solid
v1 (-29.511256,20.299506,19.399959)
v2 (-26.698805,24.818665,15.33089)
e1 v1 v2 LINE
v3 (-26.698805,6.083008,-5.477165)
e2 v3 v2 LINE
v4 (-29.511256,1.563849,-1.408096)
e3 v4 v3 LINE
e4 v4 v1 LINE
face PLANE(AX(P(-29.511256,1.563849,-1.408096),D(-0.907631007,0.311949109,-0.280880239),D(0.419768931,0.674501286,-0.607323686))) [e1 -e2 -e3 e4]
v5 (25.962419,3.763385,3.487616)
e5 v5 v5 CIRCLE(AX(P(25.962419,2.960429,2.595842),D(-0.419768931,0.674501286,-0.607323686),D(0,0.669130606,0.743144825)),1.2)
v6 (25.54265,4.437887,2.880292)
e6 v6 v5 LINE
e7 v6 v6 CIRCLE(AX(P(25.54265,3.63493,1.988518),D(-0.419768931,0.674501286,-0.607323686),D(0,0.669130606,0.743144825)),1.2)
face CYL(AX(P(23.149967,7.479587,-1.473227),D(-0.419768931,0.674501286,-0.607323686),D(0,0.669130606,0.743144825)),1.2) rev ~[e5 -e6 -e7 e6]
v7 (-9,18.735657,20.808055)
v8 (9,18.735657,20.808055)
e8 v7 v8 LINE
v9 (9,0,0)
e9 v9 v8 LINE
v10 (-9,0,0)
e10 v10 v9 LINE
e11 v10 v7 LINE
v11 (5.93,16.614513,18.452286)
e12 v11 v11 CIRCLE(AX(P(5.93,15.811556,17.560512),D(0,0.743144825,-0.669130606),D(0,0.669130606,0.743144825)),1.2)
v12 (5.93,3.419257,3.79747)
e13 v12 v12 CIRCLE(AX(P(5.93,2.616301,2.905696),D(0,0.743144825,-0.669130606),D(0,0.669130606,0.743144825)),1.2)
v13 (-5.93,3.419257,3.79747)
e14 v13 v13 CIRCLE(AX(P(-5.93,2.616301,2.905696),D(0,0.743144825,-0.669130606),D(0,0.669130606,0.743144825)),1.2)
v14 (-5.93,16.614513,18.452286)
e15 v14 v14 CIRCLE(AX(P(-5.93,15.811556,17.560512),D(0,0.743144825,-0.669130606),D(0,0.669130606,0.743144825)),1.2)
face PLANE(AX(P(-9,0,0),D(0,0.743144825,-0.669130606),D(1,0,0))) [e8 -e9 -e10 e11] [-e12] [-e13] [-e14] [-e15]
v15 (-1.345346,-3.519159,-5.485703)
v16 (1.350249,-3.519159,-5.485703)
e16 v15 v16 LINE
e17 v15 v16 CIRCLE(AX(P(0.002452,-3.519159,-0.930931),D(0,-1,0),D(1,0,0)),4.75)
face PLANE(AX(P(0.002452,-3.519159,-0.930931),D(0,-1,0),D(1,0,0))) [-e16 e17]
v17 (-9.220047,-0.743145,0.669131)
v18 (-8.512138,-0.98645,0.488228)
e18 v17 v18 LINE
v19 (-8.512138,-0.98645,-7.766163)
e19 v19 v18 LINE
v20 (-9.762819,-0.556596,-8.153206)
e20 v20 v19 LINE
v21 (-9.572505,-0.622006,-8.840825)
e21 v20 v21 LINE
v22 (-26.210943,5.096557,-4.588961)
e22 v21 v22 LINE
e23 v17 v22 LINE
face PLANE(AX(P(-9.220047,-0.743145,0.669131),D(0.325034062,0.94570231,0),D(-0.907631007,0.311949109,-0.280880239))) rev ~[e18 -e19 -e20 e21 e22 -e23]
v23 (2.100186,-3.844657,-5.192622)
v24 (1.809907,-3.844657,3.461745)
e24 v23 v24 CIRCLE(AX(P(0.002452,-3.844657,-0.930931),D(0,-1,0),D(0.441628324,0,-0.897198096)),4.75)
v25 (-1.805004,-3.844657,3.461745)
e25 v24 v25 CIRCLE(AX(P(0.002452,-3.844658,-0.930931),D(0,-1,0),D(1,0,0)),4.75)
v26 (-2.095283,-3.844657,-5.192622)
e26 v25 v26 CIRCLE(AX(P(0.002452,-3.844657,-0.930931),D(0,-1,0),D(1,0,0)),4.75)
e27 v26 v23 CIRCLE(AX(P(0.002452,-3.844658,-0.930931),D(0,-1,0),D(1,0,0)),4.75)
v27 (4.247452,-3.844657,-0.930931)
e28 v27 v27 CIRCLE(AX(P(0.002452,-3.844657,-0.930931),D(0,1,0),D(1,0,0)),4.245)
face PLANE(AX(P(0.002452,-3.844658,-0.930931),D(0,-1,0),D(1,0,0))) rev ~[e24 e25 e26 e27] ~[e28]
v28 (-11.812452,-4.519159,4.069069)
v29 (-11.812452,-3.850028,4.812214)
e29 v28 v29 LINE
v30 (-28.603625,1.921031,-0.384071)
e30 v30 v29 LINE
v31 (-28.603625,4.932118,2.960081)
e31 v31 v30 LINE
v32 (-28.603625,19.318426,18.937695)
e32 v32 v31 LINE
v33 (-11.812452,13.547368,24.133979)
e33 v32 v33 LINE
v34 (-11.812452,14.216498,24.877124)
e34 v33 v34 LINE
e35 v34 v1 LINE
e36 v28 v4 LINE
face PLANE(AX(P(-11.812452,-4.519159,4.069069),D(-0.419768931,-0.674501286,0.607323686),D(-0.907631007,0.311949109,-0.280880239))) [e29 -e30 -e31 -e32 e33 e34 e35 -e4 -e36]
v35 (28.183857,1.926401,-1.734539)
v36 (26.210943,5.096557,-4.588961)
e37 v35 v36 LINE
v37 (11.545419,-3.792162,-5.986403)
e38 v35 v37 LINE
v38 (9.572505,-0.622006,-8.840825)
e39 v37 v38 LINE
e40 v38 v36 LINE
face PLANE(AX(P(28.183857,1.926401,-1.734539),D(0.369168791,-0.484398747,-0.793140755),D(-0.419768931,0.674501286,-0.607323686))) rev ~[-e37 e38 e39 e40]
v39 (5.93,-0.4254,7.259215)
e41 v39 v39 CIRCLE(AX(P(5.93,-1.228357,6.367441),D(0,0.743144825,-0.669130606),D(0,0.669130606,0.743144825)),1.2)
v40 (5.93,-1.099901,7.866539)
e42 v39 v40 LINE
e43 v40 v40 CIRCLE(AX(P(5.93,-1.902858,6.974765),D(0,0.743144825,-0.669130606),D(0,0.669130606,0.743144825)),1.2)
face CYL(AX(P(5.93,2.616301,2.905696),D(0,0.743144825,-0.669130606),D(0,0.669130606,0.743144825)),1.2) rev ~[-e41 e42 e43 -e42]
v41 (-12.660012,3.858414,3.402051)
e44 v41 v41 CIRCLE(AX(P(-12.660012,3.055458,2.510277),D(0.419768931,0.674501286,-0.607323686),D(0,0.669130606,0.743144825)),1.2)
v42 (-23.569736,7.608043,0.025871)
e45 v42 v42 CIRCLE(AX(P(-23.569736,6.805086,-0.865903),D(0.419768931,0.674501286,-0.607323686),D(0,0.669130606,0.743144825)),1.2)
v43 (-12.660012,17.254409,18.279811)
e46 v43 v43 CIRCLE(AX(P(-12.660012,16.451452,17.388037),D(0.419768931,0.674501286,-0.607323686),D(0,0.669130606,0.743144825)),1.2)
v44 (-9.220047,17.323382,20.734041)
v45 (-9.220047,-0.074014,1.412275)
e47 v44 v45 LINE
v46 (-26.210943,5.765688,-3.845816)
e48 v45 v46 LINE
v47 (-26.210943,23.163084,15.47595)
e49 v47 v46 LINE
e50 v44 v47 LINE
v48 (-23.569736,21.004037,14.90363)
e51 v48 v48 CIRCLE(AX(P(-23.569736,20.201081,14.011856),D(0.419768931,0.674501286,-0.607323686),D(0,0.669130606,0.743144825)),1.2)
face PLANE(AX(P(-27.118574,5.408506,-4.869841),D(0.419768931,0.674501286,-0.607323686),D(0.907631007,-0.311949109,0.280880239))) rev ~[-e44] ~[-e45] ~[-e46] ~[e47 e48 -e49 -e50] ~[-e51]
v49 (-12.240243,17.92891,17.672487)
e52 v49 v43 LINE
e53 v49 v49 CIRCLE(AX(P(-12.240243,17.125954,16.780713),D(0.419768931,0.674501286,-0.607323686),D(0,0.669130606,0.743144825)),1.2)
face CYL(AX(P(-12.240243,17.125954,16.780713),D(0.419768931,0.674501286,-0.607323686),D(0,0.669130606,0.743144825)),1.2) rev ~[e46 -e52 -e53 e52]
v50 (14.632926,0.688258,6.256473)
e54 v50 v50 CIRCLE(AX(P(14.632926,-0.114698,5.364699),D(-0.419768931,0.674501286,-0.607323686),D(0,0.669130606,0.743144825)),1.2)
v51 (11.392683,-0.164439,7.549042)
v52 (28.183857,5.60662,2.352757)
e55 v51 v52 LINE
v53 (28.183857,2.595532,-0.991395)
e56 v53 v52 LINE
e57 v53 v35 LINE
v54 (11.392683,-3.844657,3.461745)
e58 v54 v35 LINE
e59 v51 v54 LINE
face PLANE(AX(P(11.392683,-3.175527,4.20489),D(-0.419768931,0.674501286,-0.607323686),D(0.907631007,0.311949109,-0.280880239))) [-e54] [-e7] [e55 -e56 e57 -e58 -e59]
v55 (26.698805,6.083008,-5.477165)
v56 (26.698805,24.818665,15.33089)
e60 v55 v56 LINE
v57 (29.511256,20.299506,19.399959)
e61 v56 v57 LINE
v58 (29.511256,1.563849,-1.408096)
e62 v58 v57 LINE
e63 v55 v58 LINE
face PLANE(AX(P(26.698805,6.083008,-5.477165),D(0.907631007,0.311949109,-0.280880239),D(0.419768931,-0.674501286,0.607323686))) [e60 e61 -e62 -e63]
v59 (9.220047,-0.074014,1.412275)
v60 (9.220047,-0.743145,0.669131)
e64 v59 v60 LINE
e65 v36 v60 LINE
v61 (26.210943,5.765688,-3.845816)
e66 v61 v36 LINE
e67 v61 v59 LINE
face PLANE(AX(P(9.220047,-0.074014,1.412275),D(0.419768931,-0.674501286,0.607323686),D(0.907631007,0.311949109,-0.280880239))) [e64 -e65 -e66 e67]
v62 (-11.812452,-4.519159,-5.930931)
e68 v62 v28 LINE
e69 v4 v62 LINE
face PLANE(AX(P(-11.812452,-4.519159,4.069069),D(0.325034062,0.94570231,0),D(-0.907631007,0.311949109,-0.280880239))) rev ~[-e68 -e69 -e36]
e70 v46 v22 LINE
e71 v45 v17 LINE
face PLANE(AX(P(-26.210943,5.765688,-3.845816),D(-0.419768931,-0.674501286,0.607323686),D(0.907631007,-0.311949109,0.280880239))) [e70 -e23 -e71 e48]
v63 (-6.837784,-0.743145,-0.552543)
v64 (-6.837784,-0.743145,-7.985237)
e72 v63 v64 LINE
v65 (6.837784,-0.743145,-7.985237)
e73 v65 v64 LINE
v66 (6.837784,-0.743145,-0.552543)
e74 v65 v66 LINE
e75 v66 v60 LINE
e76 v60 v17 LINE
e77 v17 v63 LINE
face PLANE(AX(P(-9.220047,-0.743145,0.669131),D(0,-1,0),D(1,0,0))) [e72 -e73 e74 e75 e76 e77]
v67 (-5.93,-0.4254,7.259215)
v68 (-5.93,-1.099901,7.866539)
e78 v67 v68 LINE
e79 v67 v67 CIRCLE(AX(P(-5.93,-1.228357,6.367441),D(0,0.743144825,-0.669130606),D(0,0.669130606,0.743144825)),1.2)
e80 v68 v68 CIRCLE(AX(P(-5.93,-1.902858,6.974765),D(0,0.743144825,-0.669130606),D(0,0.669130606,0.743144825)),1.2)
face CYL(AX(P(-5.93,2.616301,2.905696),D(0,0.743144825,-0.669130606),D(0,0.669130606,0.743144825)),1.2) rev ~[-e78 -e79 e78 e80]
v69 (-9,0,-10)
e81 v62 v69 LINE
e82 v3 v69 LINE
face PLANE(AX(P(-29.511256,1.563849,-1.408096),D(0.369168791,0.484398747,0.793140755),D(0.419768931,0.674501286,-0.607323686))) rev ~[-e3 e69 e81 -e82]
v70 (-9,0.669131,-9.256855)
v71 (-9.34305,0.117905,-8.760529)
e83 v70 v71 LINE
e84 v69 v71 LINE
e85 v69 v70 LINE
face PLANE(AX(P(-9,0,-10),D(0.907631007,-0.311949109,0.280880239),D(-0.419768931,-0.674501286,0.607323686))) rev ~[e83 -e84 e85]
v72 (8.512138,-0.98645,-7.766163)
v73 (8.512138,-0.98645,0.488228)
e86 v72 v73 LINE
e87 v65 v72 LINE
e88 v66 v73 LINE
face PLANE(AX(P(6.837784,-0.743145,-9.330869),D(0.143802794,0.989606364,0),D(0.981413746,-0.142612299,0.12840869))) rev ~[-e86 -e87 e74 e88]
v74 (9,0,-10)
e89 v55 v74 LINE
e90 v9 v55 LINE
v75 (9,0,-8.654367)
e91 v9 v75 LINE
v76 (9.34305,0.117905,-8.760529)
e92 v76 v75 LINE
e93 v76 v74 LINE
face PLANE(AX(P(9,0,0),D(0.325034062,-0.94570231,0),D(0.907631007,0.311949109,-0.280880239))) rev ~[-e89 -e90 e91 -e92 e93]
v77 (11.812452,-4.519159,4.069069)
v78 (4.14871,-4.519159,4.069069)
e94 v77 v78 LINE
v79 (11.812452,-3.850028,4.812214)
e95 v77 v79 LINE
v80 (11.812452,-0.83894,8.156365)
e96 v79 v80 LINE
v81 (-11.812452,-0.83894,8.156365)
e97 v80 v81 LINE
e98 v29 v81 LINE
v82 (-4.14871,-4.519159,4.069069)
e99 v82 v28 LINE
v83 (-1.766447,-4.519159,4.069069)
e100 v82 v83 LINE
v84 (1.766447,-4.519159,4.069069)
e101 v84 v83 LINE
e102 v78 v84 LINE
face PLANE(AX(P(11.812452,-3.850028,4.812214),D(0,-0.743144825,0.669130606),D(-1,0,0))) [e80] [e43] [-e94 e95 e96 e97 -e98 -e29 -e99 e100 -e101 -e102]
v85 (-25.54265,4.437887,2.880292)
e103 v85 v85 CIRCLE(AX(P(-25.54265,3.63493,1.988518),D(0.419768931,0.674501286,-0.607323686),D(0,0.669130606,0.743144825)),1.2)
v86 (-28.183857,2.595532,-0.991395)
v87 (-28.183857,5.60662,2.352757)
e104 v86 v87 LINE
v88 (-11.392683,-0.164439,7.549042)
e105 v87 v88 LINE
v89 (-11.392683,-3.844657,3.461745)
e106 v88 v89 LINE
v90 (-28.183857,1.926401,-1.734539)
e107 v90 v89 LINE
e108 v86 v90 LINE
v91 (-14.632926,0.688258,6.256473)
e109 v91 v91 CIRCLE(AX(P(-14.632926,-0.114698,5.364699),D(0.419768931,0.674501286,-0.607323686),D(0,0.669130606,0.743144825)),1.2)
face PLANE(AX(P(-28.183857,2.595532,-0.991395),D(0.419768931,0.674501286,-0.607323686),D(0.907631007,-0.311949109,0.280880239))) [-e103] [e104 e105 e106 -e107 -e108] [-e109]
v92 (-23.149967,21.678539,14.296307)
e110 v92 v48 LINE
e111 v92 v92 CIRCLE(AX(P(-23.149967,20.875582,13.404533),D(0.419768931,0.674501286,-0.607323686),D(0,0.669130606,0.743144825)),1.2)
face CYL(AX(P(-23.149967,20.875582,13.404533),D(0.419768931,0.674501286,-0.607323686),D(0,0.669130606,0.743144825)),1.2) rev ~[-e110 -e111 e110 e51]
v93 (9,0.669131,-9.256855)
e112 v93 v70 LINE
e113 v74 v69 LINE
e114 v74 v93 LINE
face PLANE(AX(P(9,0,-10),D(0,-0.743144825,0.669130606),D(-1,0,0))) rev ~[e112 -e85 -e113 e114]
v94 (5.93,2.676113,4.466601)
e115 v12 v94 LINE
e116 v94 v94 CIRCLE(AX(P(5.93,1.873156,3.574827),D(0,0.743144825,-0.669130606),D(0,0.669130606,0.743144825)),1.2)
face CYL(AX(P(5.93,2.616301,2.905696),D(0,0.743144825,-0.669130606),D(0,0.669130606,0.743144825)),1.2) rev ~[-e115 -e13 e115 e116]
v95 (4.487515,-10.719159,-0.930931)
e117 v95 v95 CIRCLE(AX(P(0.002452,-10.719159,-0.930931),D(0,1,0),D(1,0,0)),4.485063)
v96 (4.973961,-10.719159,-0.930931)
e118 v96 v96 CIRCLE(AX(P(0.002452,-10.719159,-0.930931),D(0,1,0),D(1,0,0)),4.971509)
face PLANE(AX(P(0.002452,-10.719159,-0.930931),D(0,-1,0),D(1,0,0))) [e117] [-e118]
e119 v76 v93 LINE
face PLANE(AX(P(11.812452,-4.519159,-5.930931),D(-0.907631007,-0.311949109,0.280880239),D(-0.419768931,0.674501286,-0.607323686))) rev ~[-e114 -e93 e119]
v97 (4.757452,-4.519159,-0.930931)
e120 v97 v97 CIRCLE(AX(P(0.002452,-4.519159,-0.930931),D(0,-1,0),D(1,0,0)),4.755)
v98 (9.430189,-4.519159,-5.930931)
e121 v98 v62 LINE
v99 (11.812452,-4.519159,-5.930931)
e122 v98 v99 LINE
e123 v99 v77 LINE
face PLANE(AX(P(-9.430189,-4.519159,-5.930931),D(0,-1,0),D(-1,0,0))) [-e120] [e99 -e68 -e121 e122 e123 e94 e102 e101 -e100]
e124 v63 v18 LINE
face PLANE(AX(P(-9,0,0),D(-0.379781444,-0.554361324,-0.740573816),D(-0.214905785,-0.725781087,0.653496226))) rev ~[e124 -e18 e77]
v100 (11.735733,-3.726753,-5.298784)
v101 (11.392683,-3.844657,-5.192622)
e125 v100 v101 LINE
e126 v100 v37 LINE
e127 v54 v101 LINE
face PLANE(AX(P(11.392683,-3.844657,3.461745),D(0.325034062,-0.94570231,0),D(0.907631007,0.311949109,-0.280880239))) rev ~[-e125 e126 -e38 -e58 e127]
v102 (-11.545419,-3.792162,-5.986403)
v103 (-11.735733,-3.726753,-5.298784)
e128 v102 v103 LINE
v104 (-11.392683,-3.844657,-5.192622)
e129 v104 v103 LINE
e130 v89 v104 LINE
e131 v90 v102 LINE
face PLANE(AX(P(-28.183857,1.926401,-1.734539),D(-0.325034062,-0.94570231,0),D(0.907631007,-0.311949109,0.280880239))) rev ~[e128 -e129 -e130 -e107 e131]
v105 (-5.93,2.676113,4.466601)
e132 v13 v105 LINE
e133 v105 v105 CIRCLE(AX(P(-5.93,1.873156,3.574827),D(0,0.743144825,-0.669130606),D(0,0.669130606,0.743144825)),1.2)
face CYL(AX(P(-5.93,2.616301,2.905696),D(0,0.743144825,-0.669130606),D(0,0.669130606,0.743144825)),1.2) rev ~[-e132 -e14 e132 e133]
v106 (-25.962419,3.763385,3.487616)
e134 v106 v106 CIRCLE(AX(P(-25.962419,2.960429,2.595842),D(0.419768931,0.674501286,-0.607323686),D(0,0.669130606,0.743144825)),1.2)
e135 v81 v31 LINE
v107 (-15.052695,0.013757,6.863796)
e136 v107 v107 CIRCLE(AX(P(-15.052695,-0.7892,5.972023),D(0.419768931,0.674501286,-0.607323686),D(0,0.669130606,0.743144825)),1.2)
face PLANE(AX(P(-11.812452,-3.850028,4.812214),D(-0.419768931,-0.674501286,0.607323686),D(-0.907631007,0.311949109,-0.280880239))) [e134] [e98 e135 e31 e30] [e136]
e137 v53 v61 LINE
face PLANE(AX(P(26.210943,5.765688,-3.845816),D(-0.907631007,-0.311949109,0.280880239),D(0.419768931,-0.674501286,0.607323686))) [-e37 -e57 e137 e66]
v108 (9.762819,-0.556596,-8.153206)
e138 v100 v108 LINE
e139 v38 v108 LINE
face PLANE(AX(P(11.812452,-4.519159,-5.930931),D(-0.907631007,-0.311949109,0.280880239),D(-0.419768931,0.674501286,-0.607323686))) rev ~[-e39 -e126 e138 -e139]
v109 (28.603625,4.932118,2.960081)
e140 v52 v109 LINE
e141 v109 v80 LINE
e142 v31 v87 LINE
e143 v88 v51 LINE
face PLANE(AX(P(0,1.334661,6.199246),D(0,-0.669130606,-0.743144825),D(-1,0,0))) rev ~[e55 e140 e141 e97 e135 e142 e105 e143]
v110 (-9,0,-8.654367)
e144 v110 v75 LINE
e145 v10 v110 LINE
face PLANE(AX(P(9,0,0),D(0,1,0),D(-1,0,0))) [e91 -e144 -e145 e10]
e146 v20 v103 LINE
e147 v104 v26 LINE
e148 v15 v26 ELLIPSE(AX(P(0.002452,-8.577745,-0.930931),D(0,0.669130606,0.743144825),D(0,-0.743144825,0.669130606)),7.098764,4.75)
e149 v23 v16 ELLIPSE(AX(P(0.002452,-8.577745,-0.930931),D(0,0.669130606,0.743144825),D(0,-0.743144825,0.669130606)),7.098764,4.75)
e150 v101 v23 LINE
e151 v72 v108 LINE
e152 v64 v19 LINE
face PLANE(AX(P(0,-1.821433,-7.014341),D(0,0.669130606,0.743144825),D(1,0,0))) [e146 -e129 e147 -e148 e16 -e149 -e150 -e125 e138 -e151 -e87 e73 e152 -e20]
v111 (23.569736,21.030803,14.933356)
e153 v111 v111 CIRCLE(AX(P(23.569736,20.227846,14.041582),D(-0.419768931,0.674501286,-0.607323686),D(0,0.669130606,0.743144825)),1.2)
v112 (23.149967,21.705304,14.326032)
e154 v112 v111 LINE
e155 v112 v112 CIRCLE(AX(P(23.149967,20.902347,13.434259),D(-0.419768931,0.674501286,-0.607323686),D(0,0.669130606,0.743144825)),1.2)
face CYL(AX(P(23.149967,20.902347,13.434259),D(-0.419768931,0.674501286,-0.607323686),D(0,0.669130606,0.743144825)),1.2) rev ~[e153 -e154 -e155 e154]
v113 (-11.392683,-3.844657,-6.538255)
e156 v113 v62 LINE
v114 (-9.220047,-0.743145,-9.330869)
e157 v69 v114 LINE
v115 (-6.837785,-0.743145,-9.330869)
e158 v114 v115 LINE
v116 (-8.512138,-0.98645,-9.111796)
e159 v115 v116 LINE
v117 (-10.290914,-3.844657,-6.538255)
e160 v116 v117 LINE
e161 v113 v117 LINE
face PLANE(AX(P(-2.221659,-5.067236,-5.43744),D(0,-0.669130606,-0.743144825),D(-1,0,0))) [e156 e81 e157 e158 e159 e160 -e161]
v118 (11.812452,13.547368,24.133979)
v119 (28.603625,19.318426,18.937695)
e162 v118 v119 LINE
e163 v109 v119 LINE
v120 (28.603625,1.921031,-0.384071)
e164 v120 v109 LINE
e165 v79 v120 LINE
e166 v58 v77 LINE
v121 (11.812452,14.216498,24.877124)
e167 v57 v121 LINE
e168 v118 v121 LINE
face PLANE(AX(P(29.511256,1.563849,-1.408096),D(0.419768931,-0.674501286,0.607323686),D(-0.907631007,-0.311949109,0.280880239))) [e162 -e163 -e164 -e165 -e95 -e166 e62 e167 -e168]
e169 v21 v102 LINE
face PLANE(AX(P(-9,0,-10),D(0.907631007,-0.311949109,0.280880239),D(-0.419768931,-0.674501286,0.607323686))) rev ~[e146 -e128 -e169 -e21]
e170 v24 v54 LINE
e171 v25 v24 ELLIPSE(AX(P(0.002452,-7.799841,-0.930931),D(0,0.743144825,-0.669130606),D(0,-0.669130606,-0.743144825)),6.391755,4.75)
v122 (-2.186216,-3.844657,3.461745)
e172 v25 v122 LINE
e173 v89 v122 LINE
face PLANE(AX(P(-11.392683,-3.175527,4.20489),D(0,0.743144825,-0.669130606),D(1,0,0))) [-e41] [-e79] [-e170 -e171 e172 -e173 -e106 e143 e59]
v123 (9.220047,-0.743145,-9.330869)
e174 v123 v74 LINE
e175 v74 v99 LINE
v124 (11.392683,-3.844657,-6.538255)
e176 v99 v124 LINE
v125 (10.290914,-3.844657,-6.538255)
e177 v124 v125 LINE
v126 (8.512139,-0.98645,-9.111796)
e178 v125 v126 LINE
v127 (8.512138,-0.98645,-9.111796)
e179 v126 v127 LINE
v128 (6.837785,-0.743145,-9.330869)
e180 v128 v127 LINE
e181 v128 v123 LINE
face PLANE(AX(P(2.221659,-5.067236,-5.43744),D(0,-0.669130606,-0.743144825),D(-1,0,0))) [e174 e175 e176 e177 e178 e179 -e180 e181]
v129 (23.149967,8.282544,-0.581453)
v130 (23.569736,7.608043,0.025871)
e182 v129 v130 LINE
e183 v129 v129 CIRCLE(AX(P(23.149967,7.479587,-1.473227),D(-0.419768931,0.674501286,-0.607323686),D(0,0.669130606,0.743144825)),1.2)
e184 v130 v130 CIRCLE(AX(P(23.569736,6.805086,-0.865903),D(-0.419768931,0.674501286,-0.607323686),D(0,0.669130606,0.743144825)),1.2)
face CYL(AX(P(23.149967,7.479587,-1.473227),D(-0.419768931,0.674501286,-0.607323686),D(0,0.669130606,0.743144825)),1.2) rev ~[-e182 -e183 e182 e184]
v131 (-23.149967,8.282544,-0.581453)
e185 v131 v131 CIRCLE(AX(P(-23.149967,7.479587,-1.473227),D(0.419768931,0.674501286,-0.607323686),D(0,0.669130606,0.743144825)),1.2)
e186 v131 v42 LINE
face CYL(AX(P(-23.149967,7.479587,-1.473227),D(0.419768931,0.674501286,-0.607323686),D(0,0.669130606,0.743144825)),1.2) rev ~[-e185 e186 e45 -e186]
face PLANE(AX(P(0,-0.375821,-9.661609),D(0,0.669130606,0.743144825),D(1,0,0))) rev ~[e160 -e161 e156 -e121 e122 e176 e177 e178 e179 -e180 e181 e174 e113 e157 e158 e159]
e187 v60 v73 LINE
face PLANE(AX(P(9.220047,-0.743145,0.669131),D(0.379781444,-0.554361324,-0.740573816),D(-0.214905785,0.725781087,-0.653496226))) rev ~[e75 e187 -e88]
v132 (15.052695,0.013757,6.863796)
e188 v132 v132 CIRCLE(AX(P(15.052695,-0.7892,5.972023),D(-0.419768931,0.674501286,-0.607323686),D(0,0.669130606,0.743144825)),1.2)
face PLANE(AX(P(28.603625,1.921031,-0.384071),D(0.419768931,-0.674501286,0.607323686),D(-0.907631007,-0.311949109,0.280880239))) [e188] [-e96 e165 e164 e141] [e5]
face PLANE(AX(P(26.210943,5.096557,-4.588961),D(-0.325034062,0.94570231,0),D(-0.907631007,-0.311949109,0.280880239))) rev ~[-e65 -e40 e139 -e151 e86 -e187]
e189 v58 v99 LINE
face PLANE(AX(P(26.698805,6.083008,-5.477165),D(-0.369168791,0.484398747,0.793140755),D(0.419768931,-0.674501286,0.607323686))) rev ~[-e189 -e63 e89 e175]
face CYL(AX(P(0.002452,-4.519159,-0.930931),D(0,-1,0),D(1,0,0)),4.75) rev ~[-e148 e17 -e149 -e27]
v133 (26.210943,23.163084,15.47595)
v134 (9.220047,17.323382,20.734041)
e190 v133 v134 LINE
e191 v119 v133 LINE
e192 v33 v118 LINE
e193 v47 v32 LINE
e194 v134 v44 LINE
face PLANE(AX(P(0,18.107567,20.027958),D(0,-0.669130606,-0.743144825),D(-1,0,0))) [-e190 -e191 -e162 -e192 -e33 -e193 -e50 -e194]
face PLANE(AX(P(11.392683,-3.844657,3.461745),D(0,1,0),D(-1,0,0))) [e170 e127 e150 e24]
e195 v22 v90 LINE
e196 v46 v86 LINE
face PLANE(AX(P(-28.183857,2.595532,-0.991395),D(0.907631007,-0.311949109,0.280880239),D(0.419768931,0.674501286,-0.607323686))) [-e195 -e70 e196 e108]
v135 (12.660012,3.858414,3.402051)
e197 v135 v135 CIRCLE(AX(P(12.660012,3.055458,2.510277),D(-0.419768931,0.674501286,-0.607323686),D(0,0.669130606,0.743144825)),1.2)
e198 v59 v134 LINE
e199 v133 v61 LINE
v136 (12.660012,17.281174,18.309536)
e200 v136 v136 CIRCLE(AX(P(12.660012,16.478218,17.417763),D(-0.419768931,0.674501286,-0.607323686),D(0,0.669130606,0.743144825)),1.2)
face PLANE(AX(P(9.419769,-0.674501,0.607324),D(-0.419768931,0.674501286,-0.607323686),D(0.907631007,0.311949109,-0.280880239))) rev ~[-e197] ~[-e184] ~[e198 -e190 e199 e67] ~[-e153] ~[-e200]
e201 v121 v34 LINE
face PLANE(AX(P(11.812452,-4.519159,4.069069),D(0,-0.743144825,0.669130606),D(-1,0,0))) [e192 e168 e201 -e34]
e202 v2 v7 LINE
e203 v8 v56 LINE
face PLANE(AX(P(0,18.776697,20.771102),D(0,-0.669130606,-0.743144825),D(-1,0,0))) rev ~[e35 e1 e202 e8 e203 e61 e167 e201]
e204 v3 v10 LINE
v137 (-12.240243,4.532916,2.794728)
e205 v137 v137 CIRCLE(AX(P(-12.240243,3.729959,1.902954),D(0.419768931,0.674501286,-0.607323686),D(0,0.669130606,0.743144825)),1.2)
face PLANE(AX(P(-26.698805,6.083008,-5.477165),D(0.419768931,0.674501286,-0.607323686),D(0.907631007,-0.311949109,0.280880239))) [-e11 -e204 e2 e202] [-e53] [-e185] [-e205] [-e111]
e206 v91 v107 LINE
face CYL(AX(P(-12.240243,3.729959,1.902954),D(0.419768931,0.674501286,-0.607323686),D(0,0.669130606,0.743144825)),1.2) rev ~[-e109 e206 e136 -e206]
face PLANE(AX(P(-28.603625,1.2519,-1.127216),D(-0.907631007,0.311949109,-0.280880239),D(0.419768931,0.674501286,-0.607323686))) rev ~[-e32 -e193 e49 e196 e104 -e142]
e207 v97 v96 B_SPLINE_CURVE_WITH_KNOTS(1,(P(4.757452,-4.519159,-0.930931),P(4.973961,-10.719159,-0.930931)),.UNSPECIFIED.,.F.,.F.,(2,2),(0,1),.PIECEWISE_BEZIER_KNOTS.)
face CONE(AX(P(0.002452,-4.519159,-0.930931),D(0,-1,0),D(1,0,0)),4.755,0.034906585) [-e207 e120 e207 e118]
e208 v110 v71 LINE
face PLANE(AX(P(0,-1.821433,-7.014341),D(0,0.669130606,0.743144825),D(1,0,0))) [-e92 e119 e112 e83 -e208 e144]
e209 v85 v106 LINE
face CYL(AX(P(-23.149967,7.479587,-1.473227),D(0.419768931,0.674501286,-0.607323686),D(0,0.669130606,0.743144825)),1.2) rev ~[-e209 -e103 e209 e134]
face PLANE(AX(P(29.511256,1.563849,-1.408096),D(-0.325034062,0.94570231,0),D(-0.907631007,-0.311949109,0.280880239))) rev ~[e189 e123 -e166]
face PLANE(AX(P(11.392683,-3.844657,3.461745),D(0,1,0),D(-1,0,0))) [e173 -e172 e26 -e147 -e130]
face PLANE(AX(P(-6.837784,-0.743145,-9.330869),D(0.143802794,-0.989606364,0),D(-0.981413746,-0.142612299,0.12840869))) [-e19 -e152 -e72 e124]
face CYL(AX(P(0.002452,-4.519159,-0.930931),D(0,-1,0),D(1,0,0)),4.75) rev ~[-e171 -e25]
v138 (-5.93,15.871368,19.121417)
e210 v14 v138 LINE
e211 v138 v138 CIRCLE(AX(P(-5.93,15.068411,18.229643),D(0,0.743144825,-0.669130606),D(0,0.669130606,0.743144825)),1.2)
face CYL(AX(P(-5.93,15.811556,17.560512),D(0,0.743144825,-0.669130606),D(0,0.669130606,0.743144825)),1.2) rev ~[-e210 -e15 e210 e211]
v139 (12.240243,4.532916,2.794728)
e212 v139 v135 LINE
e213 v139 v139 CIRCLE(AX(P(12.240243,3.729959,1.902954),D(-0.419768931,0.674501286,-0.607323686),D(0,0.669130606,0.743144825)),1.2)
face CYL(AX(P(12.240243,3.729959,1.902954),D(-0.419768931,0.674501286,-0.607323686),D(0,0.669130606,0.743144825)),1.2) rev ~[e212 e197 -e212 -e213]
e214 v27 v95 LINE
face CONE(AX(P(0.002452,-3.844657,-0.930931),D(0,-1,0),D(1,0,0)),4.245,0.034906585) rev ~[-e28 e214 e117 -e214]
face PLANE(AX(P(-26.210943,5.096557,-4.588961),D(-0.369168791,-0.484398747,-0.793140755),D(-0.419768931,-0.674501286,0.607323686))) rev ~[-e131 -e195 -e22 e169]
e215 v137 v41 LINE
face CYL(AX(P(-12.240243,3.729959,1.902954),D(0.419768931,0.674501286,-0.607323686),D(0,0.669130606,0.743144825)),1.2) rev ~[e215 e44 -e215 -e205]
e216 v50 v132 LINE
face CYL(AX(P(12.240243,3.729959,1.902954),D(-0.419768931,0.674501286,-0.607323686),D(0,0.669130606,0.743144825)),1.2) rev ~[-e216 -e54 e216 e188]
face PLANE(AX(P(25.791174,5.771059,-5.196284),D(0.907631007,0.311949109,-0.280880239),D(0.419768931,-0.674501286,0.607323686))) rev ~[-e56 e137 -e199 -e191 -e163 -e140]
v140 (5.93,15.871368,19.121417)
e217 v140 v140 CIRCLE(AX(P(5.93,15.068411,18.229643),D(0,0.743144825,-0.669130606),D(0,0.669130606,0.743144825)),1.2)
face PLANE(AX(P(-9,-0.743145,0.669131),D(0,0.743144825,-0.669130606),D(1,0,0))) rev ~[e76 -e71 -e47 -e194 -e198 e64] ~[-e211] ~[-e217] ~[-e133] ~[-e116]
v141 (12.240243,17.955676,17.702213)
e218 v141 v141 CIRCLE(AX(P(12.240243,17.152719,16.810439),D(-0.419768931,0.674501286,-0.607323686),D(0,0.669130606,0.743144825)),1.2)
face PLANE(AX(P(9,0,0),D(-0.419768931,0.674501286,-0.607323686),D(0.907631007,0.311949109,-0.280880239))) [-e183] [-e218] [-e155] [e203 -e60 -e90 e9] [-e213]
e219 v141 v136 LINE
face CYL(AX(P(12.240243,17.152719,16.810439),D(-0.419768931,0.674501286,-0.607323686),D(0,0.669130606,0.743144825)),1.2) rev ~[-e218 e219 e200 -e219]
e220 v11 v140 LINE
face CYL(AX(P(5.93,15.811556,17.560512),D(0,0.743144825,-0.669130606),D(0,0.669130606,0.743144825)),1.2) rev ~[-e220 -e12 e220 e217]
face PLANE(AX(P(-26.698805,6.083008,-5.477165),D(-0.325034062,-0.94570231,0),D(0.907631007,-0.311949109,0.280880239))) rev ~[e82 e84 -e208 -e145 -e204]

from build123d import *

# Parameters (mm, degrees)
BOSS_EXTRUDE1_DEPTH           = 28
SHELL2_T                      = -1
BOSS_EXTRUDE2_DEPTH           = 4.5
CUT_EXTRUDE1_DEPTH            = 4.5
SKETCH8_R                     = 1.2
CUT_EXTRUDE2_DEPTH            = 24.5
SKETCH9_R                     = 1.2
CUT_EXTRUDE3_DEPTH            = 24.5
SKETCH10_R                    = 1.2
CUT_EXTRUDE4_DEPTH            = 24.5
BOSS_EXTRUDE3_DEPTH           = 10
BOSS_EXTRUDE4_DEPTH           = 19.253744603
CUT_EXTRUDE5_DEPTH            = 10
CUT_EXTRUDE6_DEPTH            = 10
CUT_EXTRUDE7_DEPTH            = 10
BOSS_EXTRUDE5_DEPTH           = 19.253744603
CUT_EXTRUDE8_DEPTH            = 10
BOSS_EXTRUDE6_DEPTH           = 1
SKETCH23_R                    = 4.75
CUT_EXTRUDE9_DEPTH            = 1
SKETCH24_R                    = 4.755
BOSS_EXTRUDE7_DEPTH           = 6.2
BOSS_EXTRUDE7_TAPER           = -2
BOSS_EXTRUDE7_OTHER_WAY_DEPTH = 0.674501
SKETCH28_R                    = 4.245
CUT_EXTRUDE10_DEPTH           = 76
CUT_EXTRUDE10_DRAFT           = 2


with BuildPart() as part:
    # Sketch3 → Boss-Extrude1 (new body)
    with BuildSketch(Plane(origin=(0, 0, 0), x_dir=(1, 0, 0), z_dir=(0, 0.6691306063588569, 0.7431448254773955))):
        Polygon((-9, 0), (9, 0), (26.698804633, 8.185494155), (29.511256471, 2.104366409), (11.812451838, -6.081127746), (-11.812451838, -6.081127746), (-29.511256471, 2.104366409), (-26.698804633, 8.185494155), align=None)
    extrude(amount=BOSS_EXTRUDE1_DEPTH)

    # Shell2
    shell2_openings = [part.faces().sort_by_distance(p)[0] for p in [
        (20.661854154, 7.890173684, 11.734513919),
        (0, 4.848669872, 14.473096253),
        (-20.661854154, 7.890173684, 11.734513919),
    ]]
    offset(amount=SHELL2_T, openings=shell2_openings, kind=Kind.INTERSECTION)

    # Sketch5 → Boss-Extrude2 (add)
    with BuildSketch(Plane(origin=(0, 0.6691306063588575, 0.7431448254773962), x_dir=(1, 0, 0), z_dir=(0, 0.669130606358857, 0.7431448254773954))):
        Polygon((-28.603625464, 1.684597478), (-28.183856533, 2.592228485), (-11.392682907, -5.173496739), (11.392682907, -5.173496739), (28.183856533, 2.592228485), (28.603625464, 1.684597478), (11.812451838, -6.081127746), (-11.812451838, -6.081127746), align=None)
    extrude(amount=BOSS_EXTRUDE2_DEPTH)

    # Sketch6 → Cut-Extrude1 (cut)
    with BuildSketch(Plane(origin=(0, 0.6691306063588575, 0.7431448254773962), x_dir=(1, 0, 0), z_dir=(0, 0.669130606358857, 0.7431448254773954))):
        Polygon((9.220047236, -1), (26.210942557, 6.858094217), (28.183856533, 2.592228485), (11.392682907, -5.173496739), (-11.392682907, -5.173496739), (-28.183856533, 2.592228485), (-26.210942557, 6.858094217), (-9.220047236, -1), align=None)
    extrude(amount=-CUT_EXTRUDE1_DEPTH, mode=Mode.SUBTRACT)

    # Sketch8 → Cut-Extrude2 (cut)
    with BuildSketch(Plane(origin=(0, 0, 0), x_dir=(1, 0, 0), z_dir=(0, 0.7431448254773954, -0.669130606358857))):
        with Locations(Location((5.93, -3.91, 0), (0, 0, 270))):
            Circle(SKETCH8_R)
        with Locations(Location((-5.93, -3.91, 0), (0, 0, 270))):
            Circle(SKETCH8_R)
        with Locations(Location((5.93, -23.63, 0), (0, 0, 270))):
            Circle(SKETCH8_R)
        with Locations(Location((-5.93, -23.63, 0), (0, 0, 270))):
            Circle(SKETCH8_R)
    extrude(amount=-CUT_EXTRUDE2_DEPTH, mode=Mode.SUBTRACT)

    # Sketch9 → Cut-Extrude3 (cut)
    with BuildSketch(Plane(origin=(1.585853599, -2.548212155, 2.29442053), x_dir=(0.907631006833055, 0.3119491089708923, -0.2808802393324979), z_dir=(-0.4197689310027779, 0.6745012861708234, -0.6073236859523018))):
        with Locations(Location((23.758679061, -3.91, 0), (0, 0, 270))):
            Circle(SKETCH9_R)
        with Locations(Location((11.738679061, -3.91, 0), (0, 0, 270))):
            Circle(SKETCH9_R)
        with Locations(Location((23.758679061, -23.97, 0), (0, 0, 270))):
            Circle(SKETCH9_R)
        with Locations(Location((11.738679061, -23.97, 0), (0, 0, 270))):
            Circle(SKETCH9_R)
    extrude(amount=-CUT_EXTRUDE3_DEPTH, mode=Mode.SUBTRACT)

    # Sketch10 → Cut-Extrude4 (cut)
    with BuildSketch(Plane(origin=(-1.585853599, -2.548212155, 2.29442053), x_dir=(0.907631006833055, -0.3119491089708923, 0.2808802393324979), z_dir=(0.4197689310027779, 0.6745012861708234, -0.6073236859523018))):
        with Locations(Location((-11.738679061, -3.91, 0), (0, 0, 270))):
            Circle(SKETCH10_R)
        with Locations(Location((-23.758679061, -3.91, 0), (0, 0, 270))):
            Circle(SKETCH10_R)
        with Locations(Location((-11.738679061, -23.93, 0), (0, 0, 270))):
            Circle(SKETCH10_R)
        with Locations(Location((-23.758679061, -23.93, 0), (0, 0, 270))):
            Circle(SKETCH10_R)
    extrude(amount=-CUT_EXTRUDE4_DEPTH, mode=Mode.SUBTRACT)

    # Sketch11 → Boss-Extrude3 (add, along a direction that is not the sketch's normal)
    with BuildSketch(Plane(origin=(0, 0, 0), x_dir=(-1, 0, 0), z_dir=(0, -0.669130606358857, -0.7431448254773954))):
        Polygon((-11.812451838, -6.081127746), (-11.392682907, -5.173496739), (11.392682907, -5.173496739), (11.812451838, -6.081127746), align=None)
        Polygon((-9.220047236, -1), (-9, 0), (9, 0), (9.220047236, -1), align=None)
    extrude(amount=BOSS_EXTRUDE3_DEPTH, dir=(0, 0, -1))

    # Sketch12 → Boss-Extrude4 (add, along a direction that is not the sketch's normal)
    with BuildSketch(Plane(origin=(0, 0, 0), x_dir=(-1, 0, 0), z_dir=(0, -0.669130606358857, -0.7431448254773954))):
        Polygon((-11.812451838, -6.081127746), (-11.392682907, -5.173496739), (-28.183856533, 2.592228485), (-26.210942557, 6.858094217), (-9.220047236, -1), (-9, 0), (-26.698804633, 8.185494155), (-29.511256471, 2.104366409), align=None)
    extrude(amount=BOSS_EXTRUDE4_DEPTH, dir=(-0.9192395760563791, -0.3159389272983625, -0.2349067815735609))

    # Sketch14 → Cut-Extrude5 (cut, along a direction that is not the sketch's normal)
    with BuildSketch(Plane(origin=(0, -4.972609477, -5.522642316), x_dir=(-1, 0, 0), z_dir=(0, -0.6691306063588573, -0.743144825477395))):
        Polygon((4.148710376, 0.610178318), (1.766447359, 0.610178318), (8.478757397, -2.494188091), (8.698804633, -1.494188091), align=None)
    extrude(amount=-CUT_EXTRUDE5_DEPTH, dir=(0, 0, -1), mode=Mode.SUBTRACT)

    # Sketch15 → Cut-Extrude6 (cut, along a direction that is not the sketch's normal)
    with BuildSketch(Plane(origin=(0, -4.972609477, -5.522642316), x_dir=(-1, 0, 0), z_dir=(0, -0.6691306063588573, -0.743144825477395))):
        Polygon((-11.812451838, 0.610178318), (-9.430188821, 0.610178318), (6.306121727, -6.66768483), (5.886352796, -7.575315837), align=None)
    extrude(amount=-CUT_EXTRUDE6_DEPTH, dir=(0, 0, -1), mode=Mode.SUBTRACT)

    # Sketch16 → Cut-Extrude7 (cut, along a direction that is not the sketch's normal)
    with BuildSketch(Plane(origin=(0, -4.972609477, -5.522642316), x_dir=(-1, 0, 0), z_dir=(0, -0.6691306063588573, -0.743144825477395))):
        Polygon((-0.196046727, 1.517809325), (2.18621629, 1.517809325), (-6.837784219, 5.691306064), (-8.512137924, 5.363906126), align=None)
    extrude(amount=-CUT_EXTRUDE7_DEPTH, dir=(0, 0, -1), mode=Mode.SUBTRACT)

    # Sketch18 → Boss-Extrude5 (add, along a direction that is not the sketch's normal)
    with BuildSketch(Plane(origin=(0, 0, 0), x_dir=(-1, 0, 0), z_dir=(0, -0.669130606358857, -0.7431448254773954))):
        Polygon((9, 0), (9.220047236, -1), (26.210942557, 6.858094217), (28.183856533, 2.592228485), (11.392682907, -5.173496739), (11.812451838, -6.081127746), (29.511256471, 2.104366409), (26.698804633, 8.185494155), align=None)
    extrude(amount=BOSS_EXTRUDE5_DEPTH, dir=(0.9192395760563791, -0.3159389272983624, -0.2349067815735607))

    # Sketch19 → Cut-Extrude8 (cut, along a direction that is not the sketch's normal)
    with BuildSketch(Plane(origin=(0, -4.972609477, -5.522642316), x_dir=(-1, 0, 0), z_dir=(0, -0.6691306063588573, -0.743144825477395))):
        Polygon((6.837784219, 5.691306064), (8.512137924, 5.363906126), (0.196046727, 1.517809325), (-2.18621629, 1.517809325), align=None)
        Polygon((-4.148710376, 0.610178318), (-1.766447359, 0.610178318), (-8.478757397, -2.494188091), (-8.698804633, -1.494188091), align=None)
        Polygon((9.430188821, 0.610178318), (11.812451838, 0.610178318), (-5.886352796, -7.575315837), (-6.306121727, -6.66768483), align=None)
    extrude(amount=-CUT_EXTRUDE8_DEPTH, dir=(0, 0, -1), mode=Mode.SUBTRACT)

    # Sketch20 → Boss-Extrude6 (add)
    with BuildSketch(Plane(origin=(0, -4.972609477, -5.522642316), x_dir=(-1, 0, 0), z_dir=(0, -0.6691306063588573, -0.743144825477395))):
        Polygon((-11.812451838, 0.610178318), (-9, 6.691306064), (9, 6.691306064), (11.812451838, 0.610178318), align=None)
    extrude(amount=-BOSS_EXTRUDE6_DEPTH)

    # Sketch23 → Cut-Extrude9 (cut)
    with BuildSketch(Plane.XZ.offset(4.519158617)):
        with Locations((0.002451838, -0.930931304)):
            Circle(SKETCH23_R)
    extrude(amount=-CUT_EXTRUDE9_DEPTH, mode=Mode.SUBTRACT)

    # Sketch24 → Boss-Extrude7 (add)
    with BuildSketch(Plane.XZ.offset(4.519158617)):
        with Locations((0.002451838, -0.930931304)):
            Circle(SKETCH24_R)
    extrude(amount=BOSS_EXTRUDE7_DEPTH, taper=BOSS_EXTRUDE7_TAPER)

    # Sketch24 → Boss-Extrude7 other way (add)
    with BuildSketch(Plane.XZ.offset(4.519158617)):
        with Locations((0.002451838, -0.930931304)):
            Circle(SKETCH24_R)
    extrude(amount=-BOSS_EXTRUDE7_OTHER_WAY_DEPTH)


with BuildPart() as cut_extrude10_tool:
    # Sketch28 → Cut-Extrude10 (with draft: the straight prism first)
    with BuildSketch(Plane(origin=(0, -3.844657331, 0), x_dir=(1, 0, 0), z_dir=(0, 1, 0))):
        with Locations((0.002451838, 0.930931304)):
            Circle(SKETCH28_R)
    extrude(amount=-CUT_EXTRUDE10_DEPTH)
    # Cut-Extrude10: the draft: its side faces are tilted about the plane it starts from
    cut_extrude10_sides = [cut_extrude10_tool.faces().sort_by_distance(p)[0] for p in [
        (-4.242548162, -41.844657331, -0.930931304),
    ]]
    draft(cut_extrude10_sides, Plane(origin=(0, -3.844657331, 0), x_dir=(1, 0, 0), z_dir=(0, 1, 0)), CUT_EXTRUDE10_DRAFT)


with BuildPart() as part_1:
    add(part.part)

    # Cut-Extrude10: cut by cut_extrude10_tool
    add(cut_extrude10_tool.part, mode=Mode.SUBTRACT)


solid = part_1.part
